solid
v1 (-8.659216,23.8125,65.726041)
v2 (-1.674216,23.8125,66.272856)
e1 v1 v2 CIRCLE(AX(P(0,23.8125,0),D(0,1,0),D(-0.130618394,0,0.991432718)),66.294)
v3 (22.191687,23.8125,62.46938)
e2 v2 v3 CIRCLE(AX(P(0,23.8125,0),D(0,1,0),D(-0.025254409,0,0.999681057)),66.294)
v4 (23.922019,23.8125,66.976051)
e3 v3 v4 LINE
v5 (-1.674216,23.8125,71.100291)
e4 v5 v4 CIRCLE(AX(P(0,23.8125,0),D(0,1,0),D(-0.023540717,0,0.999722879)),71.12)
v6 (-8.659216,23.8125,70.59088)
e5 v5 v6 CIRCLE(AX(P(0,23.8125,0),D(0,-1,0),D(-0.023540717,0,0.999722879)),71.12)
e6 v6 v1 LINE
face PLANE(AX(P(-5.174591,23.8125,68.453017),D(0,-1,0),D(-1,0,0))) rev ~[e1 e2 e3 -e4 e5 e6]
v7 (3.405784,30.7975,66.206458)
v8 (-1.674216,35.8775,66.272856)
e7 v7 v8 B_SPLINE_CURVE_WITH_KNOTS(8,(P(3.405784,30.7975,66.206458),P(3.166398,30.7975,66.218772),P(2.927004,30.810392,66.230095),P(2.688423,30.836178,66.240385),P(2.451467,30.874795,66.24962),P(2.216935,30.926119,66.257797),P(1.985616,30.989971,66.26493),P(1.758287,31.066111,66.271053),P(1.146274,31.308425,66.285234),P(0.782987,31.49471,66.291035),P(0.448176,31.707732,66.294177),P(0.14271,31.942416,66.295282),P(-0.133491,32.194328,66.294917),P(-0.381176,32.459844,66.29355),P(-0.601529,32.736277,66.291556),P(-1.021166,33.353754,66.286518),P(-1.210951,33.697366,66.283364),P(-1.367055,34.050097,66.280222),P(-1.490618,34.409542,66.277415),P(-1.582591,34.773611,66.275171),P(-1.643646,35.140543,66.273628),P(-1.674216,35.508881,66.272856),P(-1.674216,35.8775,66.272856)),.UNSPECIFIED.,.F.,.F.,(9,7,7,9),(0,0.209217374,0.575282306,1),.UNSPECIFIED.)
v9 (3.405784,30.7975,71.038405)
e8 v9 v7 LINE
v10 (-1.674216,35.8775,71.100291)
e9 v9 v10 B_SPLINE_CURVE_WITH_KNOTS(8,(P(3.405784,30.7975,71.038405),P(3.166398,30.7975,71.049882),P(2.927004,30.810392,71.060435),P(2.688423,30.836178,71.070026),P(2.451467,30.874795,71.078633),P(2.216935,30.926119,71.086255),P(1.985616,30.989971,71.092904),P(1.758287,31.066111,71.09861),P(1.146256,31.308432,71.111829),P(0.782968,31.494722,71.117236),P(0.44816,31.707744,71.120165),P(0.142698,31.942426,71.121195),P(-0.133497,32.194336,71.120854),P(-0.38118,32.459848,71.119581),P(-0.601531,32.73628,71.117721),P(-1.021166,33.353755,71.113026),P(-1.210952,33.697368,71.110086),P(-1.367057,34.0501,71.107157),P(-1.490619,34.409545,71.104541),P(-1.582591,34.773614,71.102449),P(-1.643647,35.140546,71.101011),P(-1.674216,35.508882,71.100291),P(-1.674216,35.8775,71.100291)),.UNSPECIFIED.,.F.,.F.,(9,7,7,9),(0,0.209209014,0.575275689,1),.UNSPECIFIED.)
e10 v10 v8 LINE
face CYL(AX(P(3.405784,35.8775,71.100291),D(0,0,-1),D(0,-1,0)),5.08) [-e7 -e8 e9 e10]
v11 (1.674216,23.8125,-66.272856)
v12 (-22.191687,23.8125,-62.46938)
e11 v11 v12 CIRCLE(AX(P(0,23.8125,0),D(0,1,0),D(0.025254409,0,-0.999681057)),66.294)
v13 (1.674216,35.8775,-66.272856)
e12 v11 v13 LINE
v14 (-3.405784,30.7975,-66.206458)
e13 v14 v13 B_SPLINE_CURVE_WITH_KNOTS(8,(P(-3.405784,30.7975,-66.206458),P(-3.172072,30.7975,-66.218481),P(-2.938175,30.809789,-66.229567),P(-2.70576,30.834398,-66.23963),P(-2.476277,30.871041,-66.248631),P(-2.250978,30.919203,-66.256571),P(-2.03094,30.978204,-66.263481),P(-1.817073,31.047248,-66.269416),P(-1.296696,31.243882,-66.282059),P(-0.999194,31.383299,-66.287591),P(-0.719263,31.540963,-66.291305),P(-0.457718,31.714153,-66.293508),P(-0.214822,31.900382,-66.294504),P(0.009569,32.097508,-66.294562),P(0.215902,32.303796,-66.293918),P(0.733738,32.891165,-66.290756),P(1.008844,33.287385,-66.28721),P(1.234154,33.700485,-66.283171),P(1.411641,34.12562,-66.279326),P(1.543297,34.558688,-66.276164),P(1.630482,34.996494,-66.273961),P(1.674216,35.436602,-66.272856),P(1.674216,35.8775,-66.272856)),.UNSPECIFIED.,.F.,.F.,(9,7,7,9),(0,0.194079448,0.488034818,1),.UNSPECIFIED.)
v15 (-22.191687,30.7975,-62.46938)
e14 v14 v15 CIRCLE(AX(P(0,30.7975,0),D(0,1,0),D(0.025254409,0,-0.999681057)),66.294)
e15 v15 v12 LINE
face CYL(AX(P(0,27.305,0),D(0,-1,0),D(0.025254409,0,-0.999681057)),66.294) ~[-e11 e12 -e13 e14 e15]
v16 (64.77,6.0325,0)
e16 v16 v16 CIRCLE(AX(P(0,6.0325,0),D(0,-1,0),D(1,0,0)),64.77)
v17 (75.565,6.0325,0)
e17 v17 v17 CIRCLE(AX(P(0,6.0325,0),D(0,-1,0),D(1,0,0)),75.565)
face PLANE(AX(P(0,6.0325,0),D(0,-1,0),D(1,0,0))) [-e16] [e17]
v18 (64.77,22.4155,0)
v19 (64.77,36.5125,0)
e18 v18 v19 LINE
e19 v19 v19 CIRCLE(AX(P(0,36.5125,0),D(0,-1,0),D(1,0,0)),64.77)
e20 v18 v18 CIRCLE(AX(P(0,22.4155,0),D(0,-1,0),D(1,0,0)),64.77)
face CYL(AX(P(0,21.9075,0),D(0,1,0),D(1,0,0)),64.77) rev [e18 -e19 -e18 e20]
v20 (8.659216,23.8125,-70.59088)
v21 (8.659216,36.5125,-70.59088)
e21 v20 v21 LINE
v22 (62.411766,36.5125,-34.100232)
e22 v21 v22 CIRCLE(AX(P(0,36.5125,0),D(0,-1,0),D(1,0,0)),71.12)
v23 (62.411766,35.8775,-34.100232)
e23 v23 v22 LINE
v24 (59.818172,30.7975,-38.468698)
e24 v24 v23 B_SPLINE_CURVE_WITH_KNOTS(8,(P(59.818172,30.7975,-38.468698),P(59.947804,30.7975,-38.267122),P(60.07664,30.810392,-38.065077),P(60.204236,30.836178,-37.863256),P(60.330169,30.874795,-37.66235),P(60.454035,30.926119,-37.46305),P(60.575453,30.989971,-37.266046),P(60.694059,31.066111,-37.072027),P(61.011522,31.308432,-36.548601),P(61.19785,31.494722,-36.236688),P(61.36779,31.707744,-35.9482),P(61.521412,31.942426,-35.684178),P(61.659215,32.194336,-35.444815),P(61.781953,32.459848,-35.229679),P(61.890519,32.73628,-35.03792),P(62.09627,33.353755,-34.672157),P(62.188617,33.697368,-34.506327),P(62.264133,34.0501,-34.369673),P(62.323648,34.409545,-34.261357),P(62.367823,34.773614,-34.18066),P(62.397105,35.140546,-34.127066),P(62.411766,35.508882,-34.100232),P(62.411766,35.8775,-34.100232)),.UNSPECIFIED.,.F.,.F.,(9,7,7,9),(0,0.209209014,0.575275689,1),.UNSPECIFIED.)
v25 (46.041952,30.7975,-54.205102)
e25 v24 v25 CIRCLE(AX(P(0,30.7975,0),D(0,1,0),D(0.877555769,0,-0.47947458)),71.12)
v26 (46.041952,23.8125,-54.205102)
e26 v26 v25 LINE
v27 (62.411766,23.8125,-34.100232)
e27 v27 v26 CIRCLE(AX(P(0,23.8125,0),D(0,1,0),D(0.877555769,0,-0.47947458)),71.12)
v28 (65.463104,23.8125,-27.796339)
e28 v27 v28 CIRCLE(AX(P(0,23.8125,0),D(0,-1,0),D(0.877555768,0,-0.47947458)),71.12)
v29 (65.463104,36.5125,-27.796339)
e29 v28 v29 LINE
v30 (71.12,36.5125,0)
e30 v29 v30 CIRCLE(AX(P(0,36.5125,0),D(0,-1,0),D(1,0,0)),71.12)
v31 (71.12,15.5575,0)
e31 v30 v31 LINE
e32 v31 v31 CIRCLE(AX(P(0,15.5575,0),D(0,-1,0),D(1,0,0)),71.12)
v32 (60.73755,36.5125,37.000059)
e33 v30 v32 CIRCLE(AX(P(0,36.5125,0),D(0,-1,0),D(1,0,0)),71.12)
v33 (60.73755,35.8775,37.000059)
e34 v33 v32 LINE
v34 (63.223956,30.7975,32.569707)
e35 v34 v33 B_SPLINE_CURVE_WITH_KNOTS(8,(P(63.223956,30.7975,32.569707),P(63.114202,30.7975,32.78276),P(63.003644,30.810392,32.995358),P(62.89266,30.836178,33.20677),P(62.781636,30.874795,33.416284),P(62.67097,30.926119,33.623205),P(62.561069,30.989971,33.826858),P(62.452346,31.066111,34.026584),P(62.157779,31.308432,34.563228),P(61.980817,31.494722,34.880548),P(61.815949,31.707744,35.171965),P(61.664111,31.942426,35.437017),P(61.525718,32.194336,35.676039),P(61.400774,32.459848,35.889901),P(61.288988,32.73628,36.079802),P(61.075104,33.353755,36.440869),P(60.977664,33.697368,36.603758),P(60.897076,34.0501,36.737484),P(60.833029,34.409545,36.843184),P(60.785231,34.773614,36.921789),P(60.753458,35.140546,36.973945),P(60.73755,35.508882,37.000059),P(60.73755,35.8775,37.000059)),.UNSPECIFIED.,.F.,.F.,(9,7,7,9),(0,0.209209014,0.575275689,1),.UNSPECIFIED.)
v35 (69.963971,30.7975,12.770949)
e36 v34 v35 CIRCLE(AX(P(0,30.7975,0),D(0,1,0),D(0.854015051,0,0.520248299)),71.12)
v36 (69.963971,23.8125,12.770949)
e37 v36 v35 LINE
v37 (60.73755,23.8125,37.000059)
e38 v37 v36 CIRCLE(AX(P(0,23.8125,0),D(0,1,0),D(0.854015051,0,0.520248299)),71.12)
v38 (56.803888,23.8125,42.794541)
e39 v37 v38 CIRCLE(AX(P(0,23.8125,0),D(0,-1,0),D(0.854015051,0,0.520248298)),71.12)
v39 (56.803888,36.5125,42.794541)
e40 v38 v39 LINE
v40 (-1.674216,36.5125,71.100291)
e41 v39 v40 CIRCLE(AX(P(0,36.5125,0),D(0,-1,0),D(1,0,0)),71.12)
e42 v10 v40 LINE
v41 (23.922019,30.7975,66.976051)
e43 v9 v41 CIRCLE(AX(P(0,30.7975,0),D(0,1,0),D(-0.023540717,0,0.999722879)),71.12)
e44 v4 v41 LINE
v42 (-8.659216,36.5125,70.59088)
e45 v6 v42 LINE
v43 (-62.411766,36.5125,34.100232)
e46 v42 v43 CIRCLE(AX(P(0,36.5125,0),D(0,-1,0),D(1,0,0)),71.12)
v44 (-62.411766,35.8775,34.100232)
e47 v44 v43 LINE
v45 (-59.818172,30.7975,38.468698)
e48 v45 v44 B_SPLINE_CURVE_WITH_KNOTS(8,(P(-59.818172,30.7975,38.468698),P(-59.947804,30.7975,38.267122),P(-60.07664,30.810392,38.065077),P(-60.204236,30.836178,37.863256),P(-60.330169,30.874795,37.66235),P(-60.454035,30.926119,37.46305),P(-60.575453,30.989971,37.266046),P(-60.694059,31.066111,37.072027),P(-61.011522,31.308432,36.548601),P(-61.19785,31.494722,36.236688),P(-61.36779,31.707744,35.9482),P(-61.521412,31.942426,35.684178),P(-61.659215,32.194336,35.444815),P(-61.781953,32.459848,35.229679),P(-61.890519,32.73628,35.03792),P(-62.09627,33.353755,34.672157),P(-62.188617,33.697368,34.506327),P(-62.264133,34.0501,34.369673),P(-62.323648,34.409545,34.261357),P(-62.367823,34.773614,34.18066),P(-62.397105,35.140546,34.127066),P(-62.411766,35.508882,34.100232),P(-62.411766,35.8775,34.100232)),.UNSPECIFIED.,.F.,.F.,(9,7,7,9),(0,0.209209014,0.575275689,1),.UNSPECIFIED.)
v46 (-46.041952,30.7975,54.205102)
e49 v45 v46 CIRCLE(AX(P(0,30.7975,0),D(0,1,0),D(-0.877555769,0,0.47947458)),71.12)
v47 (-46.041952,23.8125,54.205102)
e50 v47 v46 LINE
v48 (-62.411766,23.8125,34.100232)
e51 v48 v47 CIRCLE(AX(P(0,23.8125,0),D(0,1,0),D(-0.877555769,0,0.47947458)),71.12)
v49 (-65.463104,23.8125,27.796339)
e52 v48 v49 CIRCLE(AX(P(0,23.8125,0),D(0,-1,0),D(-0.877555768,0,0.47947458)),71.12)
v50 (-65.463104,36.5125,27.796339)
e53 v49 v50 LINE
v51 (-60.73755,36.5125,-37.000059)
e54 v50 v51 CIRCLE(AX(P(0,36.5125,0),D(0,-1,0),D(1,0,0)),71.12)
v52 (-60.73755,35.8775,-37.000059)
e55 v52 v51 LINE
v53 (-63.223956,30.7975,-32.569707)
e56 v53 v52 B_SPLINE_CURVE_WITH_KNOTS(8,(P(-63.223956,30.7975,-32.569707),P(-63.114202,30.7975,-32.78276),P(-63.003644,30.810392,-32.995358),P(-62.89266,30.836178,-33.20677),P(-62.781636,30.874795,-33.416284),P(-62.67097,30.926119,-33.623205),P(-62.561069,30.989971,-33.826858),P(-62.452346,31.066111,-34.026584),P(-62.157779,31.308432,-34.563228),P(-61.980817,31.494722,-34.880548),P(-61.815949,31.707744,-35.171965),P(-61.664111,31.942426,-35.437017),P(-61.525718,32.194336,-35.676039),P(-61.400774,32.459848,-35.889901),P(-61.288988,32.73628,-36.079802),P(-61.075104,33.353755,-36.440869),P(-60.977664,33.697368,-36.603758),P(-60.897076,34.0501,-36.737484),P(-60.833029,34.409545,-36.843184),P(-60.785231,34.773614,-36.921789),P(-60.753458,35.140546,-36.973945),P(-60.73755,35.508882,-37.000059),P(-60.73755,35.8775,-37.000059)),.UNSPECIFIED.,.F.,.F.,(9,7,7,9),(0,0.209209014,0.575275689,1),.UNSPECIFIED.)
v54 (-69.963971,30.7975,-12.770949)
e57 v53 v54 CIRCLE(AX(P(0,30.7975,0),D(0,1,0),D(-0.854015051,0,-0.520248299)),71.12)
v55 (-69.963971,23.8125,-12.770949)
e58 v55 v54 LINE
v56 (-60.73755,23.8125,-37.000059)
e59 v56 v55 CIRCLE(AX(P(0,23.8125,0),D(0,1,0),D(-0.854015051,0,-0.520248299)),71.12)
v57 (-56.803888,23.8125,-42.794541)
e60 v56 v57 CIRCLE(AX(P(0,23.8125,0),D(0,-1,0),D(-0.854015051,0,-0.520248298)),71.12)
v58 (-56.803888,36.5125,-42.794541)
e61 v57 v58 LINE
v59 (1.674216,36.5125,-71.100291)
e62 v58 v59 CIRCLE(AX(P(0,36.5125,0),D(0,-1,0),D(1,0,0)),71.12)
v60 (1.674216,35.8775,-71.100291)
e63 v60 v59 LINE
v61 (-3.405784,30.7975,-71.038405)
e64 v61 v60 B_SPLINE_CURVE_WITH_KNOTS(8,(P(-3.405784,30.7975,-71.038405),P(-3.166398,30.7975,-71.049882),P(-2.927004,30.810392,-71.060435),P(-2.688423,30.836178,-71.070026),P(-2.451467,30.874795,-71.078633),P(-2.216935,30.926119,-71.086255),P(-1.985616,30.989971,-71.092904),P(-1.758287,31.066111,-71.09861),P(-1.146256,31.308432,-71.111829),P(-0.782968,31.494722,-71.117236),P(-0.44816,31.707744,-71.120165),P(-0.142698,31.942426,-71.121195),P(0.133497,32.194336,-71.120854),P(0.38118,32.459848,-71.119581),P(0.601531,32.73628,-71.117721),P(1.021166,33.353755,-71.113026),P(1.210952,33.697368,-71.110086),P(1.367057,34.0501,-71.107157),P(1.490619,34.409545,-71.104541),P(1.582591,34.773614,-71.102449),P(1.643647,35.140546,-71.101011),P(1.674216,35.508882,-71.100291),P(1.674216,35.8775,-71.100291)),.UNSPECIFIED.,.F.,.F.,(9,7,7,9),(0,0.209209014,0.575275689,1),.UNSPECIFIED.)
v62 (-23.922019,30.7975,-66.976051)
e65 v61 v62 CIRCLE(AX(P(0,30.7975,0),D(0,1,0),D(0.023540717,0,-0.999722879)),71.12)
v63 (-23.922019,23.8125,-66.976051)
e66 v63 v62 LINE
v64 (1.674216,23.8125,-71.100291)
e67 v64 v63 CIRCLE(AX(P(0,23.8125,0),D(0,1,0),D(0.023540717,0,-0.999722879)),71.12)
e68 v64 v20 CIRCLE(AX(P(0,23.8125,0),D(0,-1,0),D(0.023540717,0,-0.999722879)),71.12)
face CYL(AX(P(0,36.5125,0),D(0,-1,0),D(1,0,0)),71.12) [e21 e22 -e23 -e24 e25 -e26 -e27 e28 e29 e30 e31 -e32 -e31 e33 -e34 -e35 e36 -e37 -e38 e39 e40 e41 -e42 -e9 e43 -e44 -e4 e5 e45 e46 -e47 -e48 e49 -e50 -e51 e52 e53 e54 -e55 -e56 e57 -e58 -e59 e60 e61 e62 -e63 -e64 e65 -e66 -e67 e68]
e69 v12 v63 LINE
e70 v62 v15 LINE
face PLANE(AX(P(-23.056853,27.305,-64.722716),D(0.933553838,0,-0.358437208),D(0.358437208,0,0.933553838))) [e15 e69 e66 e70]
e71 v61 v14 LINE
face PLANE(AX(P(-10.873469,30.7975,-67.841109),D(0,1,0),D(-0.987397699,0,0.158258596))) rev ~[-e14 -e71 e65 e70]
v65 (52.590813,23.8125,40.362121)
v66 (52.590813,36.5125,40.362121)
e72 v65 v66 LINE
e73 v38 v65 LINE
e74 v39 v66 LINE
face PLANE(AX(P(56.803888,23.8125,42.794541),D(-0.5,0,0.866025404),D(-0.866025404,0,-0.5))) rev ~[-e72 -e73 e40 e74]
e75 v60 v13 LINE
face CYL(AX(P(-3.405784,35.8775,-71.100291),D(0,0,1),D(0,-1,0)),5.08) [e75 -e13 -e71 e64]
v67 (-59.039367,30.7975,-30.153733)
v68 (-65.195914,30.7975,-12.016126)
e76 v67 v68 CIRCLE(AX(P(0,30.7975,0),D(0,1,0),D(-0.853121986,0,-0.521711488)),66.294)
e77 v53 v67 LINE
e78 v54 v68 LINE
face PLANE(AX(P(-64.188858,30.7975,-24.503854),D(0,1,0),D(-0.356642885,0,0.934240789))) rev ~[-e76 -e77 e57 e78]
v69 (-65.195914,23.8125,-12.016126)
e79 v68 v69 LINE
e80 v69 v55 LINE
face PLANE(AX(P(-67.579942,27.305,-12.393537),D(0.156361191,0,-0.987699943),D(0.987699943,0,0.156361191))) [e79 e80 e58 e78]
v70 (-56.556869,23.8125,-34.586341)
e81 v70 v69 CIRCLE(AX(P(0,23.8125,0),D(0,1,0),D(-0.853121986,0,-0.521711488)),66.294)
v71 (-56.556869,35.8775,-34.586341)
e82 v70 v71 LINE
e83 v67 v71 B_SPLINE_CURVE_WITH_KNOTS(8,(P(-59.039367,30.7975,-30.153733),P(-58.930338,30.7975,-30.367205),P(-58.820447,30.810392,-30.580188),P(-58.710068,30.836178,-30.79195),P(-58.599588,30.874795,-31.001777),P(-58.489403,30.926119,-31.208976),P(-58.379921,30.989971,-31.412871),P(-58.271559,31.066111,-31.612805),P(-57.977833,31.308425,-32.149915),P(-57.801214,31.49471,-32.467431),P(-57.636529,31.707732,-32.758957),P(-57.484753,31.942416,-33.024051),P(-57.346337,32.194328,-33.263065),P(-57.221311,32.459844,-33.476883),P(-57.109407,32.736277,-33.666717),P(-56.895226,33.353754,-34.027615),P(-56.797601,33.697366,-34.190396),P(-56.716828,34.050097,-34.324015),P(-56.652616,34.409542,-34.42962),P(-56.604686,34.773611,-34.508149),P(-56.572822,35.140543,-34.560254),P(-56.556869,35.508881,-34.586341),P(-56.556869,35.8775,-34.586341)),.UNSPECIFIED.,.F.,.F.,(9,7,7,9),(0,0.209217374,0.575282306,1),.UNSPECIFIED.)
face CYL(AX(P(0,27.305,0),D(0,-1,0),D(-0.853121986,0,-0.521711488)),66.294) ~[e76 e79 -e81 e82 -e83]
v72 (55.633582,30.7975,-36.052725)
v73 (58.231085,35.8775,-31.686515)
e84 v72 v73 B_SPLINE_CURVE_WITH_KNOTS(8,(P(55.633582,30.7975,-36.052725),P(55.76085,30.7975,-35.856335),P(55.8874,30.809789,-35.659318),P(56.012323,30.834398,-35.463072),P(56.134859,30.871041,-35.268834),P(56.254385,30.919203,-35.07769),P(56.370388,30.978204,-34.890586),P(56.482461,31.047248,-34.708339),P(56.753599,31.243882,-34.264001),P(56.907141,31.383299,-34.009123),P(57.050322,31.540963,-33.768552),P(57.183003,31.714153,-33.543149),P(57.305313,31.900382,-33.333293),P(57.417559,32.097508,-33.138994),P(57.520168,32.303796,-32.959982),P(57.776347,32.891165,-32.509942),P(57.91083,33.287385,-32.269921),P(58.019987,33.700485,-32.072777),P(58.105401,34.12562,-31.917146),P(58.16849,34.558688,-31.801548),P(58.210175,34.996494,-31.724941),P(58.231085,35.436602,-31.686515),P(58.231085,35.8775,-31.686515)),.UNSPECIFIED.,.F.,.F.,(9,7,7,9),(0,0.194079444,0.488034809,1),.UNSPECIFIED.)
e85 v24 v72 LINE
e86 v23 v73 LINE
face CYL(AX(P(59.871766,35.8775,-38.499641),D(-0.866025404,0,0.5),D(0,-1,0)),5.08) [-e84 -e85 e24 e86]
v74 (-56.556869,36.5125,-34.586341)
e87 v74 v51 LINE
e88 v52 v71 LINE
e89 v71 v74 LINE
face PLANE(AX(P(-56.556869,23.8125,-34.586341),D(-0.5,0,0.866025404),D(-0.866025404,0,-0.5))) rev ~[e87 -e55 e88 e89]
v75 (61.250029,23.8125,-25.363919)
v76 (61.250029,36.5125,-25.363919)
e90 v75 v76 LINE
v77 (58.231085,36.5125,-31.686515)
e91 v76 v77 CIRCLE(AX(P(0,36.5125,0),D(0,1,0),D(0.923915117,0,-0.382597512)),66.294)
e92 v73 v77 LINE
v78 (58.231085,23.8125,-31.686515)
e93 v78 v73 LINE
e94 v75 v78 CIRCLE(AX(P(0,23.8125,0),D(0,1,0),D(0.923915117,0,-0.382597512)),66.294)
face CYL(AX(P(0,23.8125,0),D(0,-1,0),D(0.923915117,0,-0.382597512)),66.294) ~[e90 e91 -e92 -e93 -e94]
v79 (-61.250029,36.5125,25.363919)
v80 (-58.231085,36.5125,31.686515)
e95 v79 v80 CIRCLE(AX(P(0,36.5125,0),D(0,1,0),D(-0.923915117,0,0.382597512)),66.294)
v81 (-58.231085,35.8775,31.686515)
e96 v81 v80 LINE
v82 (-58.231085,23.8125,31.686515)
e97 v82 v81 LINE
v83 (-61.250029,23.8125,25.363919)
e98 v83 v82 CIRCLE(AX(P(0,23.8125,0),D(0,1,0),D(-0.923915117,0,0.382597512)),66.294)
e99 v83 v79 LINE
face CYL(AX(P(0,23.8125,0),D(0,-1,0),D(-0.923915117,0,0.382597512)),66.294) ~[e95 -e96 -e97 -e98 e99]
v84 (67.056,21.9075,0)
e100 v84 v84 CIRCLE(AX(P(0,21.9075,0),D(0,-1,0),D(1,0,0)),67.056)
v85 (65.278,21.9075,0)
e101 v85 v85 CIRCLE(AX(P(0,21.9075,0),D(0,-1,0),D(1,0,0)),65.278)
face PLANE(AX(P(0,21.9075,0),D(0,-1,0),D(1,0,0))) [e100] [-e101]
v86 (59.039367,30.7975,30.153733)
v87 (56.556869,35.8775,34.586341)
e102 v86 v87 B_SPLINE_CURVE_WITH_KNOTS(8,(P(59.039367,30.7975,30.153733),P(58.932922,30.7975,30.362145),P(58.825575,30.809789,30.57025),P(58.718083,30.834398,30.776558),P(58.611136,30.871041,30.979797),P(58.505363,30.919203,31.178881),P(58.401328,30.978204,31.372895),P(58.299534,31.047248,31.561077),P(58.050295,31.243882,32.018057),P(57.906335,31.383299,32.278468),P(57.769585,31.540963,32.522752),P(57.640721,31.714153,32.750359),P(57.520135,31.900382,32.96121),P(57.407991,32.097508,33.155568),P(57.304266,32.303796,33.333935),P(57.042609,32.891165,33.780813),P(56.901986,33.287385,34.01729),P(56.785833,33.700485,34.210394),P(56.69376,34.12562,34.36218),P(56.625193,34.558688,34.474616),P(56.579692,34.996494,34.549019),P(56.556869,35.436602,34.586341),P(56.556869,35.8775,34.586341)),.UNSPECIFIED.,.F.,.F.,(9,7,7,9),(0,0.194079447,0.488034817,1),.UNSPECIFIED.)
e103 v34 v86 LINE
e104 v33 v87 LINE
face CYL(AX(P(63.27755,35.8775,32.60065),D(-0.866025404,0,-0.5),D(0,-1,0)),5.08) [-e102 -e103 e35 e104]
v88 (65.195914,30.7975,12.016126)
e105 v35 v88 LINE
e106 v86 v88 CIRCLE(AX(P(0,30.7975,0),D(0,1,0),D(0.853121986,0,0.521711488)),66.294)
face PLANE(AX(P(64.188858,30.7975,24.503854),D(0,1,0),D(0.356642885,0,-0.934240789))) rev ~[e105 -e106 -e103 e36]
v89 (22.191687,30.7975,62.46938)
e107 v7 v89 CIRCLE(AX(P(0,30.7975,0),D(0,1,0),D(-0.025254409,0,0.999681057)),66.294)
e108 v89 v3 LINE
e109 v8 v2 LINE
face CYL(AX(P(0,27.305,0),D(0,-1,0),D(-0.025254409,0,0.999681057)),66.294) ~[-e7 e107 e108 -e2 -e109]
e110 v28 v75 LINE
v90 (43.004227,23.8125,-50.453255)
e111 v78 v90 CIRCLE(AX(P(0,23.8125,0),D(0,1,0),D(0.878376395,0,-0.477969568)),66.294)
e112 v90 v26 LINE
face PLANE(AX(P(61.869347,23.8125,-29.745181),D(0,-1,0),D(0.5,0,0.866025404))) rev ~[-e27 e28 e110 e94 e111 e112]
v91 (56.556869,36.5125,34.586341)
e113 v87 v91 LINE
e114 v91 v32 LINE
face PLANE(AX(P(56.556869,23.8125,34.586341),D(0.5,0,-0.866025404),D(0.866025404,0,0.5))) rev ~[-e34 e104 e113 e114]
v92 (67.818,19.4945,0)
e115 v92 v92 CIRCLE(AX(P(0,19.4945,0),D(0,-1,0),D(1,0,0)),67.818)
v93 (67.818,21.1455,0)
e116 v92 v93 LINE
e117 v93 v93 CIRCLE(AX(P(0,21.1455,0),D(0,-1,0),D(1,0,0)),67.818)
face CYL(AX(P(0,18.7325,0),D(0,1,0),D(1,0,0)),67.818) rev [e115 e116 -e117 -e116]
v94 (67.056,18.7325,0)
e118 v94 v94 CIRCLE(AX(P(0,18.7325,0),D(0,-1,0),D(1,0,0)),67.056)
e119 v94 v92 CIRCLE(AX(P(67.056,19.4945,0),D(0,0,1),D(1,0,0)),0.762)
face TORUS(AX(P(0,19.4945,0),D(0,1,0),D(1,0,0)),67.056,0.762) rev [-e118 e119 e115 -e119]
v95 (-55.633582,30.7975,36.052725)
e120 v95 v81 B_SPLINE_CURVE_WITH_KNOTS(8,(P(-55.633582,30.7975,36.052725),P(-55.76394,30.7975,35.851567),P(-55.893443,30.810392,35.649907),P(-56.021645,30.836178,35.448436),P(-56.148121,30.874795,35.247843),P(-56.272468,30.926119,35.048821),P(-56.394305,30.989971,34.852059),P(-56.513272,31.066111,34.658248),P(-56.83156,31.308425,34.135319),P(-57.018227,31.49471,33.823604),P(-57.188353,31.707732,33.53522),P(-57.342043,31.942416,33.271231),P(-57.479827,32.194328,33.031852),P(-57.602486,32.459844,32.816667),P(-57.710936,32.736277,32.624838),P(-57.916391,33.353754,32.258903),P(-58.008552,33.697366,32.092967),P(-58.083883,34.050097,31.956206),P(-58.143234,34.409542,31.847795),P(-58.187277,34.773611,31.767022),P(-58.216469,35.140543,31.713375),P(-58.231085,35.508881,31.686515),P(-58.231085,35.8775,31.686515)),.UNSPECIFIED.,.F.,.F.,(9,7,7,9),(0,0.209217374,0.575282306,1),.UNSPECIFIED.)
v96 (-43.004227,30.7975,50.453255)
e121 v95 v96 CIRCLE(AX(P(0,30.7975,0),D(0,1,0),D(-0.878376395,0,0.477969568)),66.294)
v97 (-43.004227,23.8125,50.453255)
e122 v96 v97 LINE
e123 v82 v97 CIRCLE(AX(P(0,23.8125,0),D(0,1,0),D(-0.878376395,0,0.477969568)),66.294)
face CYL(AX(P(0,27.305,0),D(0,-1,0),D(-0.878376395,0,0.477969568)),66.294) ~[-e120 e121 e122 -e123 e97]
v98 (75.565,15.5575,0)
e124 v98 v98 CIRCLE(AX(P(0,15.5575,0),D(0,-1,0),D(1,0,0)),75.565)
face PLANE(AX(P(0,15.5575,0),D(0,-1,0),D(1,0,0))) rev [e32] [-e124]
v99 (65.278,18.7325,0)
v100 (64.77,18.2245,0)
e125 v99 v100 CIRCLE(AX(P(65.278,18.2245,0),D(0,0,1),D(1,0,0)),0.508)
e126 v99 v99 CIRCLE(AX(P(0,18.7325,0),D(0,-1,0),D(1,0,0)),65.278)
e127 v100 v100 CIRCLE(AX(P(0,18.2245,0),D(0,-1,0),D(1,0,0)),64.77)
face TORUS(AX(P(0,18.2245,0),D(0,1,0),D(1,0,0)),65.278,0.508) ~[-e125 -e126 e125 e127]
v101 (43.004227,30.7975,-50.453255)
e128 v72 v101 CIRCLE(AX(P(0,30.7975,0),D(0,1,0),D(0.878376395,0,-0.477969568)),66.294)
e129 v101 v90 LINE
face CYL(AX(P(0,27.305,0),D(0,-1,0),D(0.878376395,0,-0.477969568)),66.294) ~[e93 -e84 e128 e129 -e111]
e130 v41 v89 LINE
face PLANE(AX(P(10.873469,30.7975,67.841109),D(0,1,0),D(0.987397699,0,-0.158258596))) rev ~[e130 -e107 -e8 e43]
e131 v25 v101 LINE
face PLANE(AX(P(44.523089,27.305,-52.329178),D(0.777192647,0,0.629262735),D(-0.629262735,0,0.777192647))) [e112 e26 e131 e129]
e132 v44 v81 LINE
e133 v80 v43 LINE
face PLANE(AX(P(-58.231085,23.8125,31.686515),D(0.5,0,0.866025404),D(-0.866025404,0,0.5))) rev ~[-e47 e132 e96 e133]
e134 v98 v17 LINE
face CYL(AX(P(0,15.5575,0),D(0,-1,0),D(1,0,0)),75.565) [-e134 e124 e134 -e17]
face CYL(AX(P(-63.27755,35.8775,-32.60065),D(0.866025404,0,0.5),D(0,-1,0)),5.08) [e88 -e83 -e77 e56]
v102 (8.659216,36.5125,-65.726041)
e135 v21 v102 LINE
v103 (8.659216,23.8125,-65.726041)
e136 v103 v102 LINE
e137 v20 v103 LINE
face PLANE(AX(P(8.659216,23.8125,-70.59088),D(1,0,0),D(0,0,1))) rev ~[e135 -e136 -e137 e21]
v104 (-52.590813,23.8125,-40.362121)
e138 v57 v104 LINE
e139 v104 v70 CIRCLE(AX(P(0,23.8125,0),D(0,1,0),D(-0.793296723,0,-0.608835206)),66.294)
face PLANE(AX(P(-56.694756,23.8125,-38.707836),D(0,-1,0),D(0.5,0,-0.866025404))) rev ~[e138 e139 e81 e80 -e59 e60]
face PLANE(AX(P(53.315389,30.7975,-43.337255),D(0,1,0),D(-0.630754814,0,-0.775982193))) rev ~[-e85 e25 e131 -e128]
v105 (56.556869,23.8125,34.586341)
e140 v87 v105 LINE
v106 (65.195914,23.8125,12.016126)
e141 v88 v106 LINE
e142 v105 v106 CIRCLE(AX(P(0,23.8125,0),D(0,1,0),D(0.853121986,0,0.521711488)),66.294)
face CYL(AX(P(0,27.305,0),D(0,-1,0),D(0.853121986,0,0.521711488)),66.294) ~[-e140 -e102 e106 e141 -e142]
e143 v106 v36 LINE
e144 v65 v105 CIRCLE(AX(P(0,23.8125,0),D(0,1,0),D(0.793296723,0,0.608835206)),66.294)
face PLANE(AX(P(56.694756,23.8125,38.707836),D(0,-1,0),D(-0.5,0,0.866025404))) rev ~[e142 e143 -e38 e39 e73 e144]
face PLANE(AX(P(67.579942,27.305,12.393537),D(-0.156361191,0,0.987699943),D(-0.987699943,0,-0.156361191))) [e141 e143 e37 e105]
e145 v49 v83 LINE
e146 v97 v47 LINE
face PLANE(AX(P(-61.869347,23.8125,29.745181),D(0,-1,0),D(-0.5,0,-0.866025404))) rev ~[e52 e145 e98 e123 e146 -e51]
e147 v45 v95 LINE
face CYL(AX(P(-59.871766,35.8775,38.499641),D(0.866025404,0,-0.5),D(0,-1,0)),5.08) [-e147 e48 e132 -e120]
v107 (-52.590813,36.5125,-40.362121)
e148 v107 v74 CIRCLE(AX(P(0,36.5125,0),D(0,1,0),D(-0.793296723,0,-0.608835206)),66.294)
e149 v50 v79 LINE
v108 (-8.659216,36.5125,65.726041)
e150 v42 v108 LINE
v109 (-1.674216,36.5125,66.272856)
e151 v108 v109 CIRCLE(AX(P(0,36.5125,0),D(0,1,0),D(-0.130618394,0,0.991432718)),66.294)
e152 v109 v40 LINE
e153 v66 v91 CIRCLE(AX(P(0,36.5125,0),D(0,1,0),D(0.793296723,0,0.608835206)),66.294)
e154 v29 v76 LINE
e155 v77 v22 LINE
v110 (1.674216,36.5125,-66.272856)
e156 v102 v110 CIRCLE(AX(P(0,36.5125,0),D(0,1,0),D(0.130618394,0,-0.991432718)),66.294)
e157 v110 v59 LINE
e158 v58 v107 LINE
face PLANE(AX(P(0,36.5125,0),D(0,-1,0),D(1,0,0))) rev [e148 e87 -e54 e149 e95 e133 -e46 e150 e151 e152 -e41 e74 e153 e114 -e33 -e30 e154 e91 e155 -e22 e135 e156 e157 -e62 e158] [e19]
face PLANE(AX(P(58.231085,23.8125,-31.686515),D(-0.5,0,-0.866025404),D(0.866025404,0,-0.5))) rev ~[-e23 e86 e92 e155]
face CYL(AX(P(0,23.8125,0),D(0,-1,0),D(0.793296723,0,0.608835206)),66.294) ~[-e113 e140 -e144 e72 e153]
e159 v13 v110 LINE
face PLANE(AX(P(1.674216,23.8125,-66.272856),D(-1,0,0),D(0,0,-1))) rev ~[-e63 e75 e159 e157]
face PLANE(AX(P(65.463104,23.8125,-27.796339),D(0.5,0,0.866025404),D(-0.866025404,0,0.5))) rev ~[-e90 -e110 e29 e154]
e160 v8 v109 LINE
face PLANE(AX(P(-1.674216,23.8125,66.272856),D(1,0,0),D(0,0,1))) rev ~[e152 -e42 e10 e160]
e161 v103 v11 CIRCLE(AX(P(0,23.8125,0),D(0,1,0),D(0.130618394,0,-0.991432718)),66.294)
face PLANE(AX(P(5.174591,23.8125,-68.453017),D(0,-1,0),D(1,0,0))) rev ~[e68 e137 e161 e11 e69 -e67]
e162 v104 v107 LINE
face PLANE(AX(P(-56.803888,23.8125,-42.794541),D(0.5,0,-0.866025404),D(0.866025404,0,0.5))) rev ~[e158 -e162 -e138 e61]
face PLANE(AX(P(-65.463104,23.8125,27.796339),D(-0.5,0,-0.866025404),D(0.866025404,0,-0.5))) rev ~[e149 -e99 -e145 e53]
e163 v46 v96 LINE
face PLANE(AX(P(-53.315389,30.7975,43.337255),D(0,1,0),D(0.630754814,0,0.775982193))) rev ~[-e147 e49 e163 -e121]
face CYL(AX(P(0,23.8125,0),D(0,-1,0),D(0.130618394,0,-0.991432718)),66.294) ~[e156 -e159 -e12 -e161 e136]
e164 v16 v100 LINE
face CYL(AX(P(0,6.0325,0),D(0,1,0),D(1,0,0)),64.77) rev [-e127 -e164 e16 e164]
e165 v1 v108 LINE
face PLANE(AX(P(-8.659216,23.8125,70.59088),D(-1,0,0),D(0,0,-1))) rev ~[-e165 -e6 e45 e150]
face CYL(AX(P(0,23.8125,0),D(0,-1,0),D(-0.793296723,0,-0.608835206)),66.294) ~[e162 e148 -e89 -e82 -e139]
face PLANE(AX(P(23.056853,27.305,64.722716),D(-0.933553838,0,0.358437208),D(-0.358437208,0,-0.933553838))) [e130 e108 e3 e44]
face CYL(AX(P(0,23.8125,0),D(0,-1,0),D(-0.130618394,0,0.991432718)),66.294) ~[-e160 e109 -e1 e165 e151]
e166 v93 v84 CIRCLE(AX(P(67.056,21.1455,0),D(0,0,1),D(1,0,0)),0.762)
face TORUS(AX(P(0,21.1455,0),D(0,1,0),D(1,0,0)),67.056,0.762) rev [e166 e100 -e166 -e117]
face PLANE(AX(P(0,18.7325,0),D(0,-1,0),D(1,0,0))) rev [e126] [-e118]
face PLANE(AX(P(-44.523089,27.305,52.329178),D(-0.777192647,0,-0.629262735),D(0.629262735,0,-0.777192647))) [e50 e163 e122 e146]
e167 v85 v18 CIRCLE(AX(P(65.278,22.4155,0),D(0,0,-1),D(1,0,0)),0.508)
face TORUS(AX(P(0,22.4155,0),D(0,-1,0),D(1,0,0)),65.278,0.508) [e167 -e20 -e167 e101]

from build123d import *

# Parameters (mm, degrees)
CUT_EXTRUDE1_START       = -12.7
CUT_EXTRUDE1_DEPTH       = 12.7
SKETCH10_W               = 4.827435186
SKETCH10_H               = 6.985
FILLET1_R                = 5.08
CIRPATTERN1_COUNT        = 6
FILLET1_OF_CIRPATTERN1_R = 5.08
FILLET2_R                = 0.762
FILLET3_R                = 0.508


with BuildPart() as part:
    # Sketch1 → Revolve1 (revolve)
    with BuildSketch(Plane.XY):
        Polygon((71.12, 36.5125), (71.12, 15.5575), (75.565, 15.5575), (75.565, 6.0325), (64.77, 6.0325), (64.77, 18.7325), (67.818, 18.7325), (67.818, 21.9075), (64.77, 21.9075), (64.77, 36.5125), align=None)
    revolve(axis=Axis((0, 60.757954545, 0), (0, -1, 0)))

    # Sketch2 → Cut-Extrude1 (cut)
    with BuildSketch(Plane(origin=(0, 36.5125, 0), x_dir=(1, 0, 0), z_dir=(0, 1, 0)).offset(CUT_EXTRUDE1_START)):
        with BuildLine():
            Line((-8.659215821, -70.590880299), (-8.659215821, -65.726040634))
            ThreePointArc((-8.659215821, -65.726040634), (-5.173944735, -66.0917902), (-1.674215821, -66.272855962))
            Line((-1.674215821, -66.272855962), (-1.674215821, -71.100291148))
            ThreePointArc((-1.674215821, -71.100291148), (-5.172990163, -70.931618992), (-8.659215821, -70.590880299))
        make_face()
    cut_extrude1 = extrude(amount=CUT_EXTRUDE1_DEPTH, mode=Mode.SUBTRACT)

    # Cut-Sweep2: sweep along a path in Sketch23
    with BuildLine(Plane(origin=(0, 23.8125, 0), x_dir=(1, 0, 0), z_dir=(0, 1, 0))) as cut_sweep2_path:
        ThreePointArc((-1.674215821, -71.100291148), (11.313422518, -70.214392192), (23.922019276, -66.976050897))
    # Sketch10 → Cut-Sweep2 (sweep, cut)
    with BuildSketch(Plane.ZY.offset(1.674215821)):
        with Locations((68.686573555, 27.305)):
            Rectangle(SKETCH10_W, SKETCH10_H)
    cut_sweep2 = sweep(path=cut_sweep2_path.line, mode=Mode.SUBTRACT)

    # Fillet1
    fillet1_edges = [part.edges().sort_by_distance(p)[0] for p in [
        (-1.674215821, 30.7975, 68.686573555),
    ]]
    fillet(fillet1_edges, radius=FILLET1_R)

    # CirPattern1: Cut-Extrude1, Cut-Sweep2 ×6 about axis
    cirpattern1_axis = Axis((0, 60.757954545, 0), (0, 1, 0))
    add([cut_extrude1.rotate(cirpattern1_axis, i * 360 / CIRPATTERN1_COUNT) for i in range(1, CIRPATTERN1_COUNT)], mode=Mode.SUBTRACT)
    add([cut_sweep2.rotate(cirpattern1_axis, i * 360 / CIRPATTERN1_COUNT) for i in range(1, CIRPATTERN1_COUNT)], mode=Mode.SUBTRACT)

    # Fillet1 of CirPattern1
    fillet1_of_cirpattern1_edges = [part.edges().sort_by_distance(p)[0] for p in [
        (58.647209687, 30.7975, 35.79320021),
        (60.321425508, 30.7975, -32.893373346),
        (1.674215821, 30.7975, -68.686573555),
        (-58.647209687, 30.7975, -35.79320021),
        (-60.321425508, 30.7975, 32.893373346),
    ]]
    fillet(fillet1_of_cirpattern1_edges, radius=FILLET1_OF_CIRPATTERN1_R)

    # Fillet2
    fillet2_edges = [part.edges().sort_by_distance(p)[0] for p in [
        (-67.818, 21.9075, 0),
        (-67.818, 18.7325, 0),
    ]]
    fillet(fillet2_edges, radius=FILLET2_R)

    # Fillet3
    fillet3_edges = [part.edges().sort_by_distance(p)[0] for p in [
        (-64.77, 18.7325, 0),
        (-64.77, 21.9075, 0),
    ]]
    fillet(fillet3_edges, radius=FILLET3_R)


solid = part.part
